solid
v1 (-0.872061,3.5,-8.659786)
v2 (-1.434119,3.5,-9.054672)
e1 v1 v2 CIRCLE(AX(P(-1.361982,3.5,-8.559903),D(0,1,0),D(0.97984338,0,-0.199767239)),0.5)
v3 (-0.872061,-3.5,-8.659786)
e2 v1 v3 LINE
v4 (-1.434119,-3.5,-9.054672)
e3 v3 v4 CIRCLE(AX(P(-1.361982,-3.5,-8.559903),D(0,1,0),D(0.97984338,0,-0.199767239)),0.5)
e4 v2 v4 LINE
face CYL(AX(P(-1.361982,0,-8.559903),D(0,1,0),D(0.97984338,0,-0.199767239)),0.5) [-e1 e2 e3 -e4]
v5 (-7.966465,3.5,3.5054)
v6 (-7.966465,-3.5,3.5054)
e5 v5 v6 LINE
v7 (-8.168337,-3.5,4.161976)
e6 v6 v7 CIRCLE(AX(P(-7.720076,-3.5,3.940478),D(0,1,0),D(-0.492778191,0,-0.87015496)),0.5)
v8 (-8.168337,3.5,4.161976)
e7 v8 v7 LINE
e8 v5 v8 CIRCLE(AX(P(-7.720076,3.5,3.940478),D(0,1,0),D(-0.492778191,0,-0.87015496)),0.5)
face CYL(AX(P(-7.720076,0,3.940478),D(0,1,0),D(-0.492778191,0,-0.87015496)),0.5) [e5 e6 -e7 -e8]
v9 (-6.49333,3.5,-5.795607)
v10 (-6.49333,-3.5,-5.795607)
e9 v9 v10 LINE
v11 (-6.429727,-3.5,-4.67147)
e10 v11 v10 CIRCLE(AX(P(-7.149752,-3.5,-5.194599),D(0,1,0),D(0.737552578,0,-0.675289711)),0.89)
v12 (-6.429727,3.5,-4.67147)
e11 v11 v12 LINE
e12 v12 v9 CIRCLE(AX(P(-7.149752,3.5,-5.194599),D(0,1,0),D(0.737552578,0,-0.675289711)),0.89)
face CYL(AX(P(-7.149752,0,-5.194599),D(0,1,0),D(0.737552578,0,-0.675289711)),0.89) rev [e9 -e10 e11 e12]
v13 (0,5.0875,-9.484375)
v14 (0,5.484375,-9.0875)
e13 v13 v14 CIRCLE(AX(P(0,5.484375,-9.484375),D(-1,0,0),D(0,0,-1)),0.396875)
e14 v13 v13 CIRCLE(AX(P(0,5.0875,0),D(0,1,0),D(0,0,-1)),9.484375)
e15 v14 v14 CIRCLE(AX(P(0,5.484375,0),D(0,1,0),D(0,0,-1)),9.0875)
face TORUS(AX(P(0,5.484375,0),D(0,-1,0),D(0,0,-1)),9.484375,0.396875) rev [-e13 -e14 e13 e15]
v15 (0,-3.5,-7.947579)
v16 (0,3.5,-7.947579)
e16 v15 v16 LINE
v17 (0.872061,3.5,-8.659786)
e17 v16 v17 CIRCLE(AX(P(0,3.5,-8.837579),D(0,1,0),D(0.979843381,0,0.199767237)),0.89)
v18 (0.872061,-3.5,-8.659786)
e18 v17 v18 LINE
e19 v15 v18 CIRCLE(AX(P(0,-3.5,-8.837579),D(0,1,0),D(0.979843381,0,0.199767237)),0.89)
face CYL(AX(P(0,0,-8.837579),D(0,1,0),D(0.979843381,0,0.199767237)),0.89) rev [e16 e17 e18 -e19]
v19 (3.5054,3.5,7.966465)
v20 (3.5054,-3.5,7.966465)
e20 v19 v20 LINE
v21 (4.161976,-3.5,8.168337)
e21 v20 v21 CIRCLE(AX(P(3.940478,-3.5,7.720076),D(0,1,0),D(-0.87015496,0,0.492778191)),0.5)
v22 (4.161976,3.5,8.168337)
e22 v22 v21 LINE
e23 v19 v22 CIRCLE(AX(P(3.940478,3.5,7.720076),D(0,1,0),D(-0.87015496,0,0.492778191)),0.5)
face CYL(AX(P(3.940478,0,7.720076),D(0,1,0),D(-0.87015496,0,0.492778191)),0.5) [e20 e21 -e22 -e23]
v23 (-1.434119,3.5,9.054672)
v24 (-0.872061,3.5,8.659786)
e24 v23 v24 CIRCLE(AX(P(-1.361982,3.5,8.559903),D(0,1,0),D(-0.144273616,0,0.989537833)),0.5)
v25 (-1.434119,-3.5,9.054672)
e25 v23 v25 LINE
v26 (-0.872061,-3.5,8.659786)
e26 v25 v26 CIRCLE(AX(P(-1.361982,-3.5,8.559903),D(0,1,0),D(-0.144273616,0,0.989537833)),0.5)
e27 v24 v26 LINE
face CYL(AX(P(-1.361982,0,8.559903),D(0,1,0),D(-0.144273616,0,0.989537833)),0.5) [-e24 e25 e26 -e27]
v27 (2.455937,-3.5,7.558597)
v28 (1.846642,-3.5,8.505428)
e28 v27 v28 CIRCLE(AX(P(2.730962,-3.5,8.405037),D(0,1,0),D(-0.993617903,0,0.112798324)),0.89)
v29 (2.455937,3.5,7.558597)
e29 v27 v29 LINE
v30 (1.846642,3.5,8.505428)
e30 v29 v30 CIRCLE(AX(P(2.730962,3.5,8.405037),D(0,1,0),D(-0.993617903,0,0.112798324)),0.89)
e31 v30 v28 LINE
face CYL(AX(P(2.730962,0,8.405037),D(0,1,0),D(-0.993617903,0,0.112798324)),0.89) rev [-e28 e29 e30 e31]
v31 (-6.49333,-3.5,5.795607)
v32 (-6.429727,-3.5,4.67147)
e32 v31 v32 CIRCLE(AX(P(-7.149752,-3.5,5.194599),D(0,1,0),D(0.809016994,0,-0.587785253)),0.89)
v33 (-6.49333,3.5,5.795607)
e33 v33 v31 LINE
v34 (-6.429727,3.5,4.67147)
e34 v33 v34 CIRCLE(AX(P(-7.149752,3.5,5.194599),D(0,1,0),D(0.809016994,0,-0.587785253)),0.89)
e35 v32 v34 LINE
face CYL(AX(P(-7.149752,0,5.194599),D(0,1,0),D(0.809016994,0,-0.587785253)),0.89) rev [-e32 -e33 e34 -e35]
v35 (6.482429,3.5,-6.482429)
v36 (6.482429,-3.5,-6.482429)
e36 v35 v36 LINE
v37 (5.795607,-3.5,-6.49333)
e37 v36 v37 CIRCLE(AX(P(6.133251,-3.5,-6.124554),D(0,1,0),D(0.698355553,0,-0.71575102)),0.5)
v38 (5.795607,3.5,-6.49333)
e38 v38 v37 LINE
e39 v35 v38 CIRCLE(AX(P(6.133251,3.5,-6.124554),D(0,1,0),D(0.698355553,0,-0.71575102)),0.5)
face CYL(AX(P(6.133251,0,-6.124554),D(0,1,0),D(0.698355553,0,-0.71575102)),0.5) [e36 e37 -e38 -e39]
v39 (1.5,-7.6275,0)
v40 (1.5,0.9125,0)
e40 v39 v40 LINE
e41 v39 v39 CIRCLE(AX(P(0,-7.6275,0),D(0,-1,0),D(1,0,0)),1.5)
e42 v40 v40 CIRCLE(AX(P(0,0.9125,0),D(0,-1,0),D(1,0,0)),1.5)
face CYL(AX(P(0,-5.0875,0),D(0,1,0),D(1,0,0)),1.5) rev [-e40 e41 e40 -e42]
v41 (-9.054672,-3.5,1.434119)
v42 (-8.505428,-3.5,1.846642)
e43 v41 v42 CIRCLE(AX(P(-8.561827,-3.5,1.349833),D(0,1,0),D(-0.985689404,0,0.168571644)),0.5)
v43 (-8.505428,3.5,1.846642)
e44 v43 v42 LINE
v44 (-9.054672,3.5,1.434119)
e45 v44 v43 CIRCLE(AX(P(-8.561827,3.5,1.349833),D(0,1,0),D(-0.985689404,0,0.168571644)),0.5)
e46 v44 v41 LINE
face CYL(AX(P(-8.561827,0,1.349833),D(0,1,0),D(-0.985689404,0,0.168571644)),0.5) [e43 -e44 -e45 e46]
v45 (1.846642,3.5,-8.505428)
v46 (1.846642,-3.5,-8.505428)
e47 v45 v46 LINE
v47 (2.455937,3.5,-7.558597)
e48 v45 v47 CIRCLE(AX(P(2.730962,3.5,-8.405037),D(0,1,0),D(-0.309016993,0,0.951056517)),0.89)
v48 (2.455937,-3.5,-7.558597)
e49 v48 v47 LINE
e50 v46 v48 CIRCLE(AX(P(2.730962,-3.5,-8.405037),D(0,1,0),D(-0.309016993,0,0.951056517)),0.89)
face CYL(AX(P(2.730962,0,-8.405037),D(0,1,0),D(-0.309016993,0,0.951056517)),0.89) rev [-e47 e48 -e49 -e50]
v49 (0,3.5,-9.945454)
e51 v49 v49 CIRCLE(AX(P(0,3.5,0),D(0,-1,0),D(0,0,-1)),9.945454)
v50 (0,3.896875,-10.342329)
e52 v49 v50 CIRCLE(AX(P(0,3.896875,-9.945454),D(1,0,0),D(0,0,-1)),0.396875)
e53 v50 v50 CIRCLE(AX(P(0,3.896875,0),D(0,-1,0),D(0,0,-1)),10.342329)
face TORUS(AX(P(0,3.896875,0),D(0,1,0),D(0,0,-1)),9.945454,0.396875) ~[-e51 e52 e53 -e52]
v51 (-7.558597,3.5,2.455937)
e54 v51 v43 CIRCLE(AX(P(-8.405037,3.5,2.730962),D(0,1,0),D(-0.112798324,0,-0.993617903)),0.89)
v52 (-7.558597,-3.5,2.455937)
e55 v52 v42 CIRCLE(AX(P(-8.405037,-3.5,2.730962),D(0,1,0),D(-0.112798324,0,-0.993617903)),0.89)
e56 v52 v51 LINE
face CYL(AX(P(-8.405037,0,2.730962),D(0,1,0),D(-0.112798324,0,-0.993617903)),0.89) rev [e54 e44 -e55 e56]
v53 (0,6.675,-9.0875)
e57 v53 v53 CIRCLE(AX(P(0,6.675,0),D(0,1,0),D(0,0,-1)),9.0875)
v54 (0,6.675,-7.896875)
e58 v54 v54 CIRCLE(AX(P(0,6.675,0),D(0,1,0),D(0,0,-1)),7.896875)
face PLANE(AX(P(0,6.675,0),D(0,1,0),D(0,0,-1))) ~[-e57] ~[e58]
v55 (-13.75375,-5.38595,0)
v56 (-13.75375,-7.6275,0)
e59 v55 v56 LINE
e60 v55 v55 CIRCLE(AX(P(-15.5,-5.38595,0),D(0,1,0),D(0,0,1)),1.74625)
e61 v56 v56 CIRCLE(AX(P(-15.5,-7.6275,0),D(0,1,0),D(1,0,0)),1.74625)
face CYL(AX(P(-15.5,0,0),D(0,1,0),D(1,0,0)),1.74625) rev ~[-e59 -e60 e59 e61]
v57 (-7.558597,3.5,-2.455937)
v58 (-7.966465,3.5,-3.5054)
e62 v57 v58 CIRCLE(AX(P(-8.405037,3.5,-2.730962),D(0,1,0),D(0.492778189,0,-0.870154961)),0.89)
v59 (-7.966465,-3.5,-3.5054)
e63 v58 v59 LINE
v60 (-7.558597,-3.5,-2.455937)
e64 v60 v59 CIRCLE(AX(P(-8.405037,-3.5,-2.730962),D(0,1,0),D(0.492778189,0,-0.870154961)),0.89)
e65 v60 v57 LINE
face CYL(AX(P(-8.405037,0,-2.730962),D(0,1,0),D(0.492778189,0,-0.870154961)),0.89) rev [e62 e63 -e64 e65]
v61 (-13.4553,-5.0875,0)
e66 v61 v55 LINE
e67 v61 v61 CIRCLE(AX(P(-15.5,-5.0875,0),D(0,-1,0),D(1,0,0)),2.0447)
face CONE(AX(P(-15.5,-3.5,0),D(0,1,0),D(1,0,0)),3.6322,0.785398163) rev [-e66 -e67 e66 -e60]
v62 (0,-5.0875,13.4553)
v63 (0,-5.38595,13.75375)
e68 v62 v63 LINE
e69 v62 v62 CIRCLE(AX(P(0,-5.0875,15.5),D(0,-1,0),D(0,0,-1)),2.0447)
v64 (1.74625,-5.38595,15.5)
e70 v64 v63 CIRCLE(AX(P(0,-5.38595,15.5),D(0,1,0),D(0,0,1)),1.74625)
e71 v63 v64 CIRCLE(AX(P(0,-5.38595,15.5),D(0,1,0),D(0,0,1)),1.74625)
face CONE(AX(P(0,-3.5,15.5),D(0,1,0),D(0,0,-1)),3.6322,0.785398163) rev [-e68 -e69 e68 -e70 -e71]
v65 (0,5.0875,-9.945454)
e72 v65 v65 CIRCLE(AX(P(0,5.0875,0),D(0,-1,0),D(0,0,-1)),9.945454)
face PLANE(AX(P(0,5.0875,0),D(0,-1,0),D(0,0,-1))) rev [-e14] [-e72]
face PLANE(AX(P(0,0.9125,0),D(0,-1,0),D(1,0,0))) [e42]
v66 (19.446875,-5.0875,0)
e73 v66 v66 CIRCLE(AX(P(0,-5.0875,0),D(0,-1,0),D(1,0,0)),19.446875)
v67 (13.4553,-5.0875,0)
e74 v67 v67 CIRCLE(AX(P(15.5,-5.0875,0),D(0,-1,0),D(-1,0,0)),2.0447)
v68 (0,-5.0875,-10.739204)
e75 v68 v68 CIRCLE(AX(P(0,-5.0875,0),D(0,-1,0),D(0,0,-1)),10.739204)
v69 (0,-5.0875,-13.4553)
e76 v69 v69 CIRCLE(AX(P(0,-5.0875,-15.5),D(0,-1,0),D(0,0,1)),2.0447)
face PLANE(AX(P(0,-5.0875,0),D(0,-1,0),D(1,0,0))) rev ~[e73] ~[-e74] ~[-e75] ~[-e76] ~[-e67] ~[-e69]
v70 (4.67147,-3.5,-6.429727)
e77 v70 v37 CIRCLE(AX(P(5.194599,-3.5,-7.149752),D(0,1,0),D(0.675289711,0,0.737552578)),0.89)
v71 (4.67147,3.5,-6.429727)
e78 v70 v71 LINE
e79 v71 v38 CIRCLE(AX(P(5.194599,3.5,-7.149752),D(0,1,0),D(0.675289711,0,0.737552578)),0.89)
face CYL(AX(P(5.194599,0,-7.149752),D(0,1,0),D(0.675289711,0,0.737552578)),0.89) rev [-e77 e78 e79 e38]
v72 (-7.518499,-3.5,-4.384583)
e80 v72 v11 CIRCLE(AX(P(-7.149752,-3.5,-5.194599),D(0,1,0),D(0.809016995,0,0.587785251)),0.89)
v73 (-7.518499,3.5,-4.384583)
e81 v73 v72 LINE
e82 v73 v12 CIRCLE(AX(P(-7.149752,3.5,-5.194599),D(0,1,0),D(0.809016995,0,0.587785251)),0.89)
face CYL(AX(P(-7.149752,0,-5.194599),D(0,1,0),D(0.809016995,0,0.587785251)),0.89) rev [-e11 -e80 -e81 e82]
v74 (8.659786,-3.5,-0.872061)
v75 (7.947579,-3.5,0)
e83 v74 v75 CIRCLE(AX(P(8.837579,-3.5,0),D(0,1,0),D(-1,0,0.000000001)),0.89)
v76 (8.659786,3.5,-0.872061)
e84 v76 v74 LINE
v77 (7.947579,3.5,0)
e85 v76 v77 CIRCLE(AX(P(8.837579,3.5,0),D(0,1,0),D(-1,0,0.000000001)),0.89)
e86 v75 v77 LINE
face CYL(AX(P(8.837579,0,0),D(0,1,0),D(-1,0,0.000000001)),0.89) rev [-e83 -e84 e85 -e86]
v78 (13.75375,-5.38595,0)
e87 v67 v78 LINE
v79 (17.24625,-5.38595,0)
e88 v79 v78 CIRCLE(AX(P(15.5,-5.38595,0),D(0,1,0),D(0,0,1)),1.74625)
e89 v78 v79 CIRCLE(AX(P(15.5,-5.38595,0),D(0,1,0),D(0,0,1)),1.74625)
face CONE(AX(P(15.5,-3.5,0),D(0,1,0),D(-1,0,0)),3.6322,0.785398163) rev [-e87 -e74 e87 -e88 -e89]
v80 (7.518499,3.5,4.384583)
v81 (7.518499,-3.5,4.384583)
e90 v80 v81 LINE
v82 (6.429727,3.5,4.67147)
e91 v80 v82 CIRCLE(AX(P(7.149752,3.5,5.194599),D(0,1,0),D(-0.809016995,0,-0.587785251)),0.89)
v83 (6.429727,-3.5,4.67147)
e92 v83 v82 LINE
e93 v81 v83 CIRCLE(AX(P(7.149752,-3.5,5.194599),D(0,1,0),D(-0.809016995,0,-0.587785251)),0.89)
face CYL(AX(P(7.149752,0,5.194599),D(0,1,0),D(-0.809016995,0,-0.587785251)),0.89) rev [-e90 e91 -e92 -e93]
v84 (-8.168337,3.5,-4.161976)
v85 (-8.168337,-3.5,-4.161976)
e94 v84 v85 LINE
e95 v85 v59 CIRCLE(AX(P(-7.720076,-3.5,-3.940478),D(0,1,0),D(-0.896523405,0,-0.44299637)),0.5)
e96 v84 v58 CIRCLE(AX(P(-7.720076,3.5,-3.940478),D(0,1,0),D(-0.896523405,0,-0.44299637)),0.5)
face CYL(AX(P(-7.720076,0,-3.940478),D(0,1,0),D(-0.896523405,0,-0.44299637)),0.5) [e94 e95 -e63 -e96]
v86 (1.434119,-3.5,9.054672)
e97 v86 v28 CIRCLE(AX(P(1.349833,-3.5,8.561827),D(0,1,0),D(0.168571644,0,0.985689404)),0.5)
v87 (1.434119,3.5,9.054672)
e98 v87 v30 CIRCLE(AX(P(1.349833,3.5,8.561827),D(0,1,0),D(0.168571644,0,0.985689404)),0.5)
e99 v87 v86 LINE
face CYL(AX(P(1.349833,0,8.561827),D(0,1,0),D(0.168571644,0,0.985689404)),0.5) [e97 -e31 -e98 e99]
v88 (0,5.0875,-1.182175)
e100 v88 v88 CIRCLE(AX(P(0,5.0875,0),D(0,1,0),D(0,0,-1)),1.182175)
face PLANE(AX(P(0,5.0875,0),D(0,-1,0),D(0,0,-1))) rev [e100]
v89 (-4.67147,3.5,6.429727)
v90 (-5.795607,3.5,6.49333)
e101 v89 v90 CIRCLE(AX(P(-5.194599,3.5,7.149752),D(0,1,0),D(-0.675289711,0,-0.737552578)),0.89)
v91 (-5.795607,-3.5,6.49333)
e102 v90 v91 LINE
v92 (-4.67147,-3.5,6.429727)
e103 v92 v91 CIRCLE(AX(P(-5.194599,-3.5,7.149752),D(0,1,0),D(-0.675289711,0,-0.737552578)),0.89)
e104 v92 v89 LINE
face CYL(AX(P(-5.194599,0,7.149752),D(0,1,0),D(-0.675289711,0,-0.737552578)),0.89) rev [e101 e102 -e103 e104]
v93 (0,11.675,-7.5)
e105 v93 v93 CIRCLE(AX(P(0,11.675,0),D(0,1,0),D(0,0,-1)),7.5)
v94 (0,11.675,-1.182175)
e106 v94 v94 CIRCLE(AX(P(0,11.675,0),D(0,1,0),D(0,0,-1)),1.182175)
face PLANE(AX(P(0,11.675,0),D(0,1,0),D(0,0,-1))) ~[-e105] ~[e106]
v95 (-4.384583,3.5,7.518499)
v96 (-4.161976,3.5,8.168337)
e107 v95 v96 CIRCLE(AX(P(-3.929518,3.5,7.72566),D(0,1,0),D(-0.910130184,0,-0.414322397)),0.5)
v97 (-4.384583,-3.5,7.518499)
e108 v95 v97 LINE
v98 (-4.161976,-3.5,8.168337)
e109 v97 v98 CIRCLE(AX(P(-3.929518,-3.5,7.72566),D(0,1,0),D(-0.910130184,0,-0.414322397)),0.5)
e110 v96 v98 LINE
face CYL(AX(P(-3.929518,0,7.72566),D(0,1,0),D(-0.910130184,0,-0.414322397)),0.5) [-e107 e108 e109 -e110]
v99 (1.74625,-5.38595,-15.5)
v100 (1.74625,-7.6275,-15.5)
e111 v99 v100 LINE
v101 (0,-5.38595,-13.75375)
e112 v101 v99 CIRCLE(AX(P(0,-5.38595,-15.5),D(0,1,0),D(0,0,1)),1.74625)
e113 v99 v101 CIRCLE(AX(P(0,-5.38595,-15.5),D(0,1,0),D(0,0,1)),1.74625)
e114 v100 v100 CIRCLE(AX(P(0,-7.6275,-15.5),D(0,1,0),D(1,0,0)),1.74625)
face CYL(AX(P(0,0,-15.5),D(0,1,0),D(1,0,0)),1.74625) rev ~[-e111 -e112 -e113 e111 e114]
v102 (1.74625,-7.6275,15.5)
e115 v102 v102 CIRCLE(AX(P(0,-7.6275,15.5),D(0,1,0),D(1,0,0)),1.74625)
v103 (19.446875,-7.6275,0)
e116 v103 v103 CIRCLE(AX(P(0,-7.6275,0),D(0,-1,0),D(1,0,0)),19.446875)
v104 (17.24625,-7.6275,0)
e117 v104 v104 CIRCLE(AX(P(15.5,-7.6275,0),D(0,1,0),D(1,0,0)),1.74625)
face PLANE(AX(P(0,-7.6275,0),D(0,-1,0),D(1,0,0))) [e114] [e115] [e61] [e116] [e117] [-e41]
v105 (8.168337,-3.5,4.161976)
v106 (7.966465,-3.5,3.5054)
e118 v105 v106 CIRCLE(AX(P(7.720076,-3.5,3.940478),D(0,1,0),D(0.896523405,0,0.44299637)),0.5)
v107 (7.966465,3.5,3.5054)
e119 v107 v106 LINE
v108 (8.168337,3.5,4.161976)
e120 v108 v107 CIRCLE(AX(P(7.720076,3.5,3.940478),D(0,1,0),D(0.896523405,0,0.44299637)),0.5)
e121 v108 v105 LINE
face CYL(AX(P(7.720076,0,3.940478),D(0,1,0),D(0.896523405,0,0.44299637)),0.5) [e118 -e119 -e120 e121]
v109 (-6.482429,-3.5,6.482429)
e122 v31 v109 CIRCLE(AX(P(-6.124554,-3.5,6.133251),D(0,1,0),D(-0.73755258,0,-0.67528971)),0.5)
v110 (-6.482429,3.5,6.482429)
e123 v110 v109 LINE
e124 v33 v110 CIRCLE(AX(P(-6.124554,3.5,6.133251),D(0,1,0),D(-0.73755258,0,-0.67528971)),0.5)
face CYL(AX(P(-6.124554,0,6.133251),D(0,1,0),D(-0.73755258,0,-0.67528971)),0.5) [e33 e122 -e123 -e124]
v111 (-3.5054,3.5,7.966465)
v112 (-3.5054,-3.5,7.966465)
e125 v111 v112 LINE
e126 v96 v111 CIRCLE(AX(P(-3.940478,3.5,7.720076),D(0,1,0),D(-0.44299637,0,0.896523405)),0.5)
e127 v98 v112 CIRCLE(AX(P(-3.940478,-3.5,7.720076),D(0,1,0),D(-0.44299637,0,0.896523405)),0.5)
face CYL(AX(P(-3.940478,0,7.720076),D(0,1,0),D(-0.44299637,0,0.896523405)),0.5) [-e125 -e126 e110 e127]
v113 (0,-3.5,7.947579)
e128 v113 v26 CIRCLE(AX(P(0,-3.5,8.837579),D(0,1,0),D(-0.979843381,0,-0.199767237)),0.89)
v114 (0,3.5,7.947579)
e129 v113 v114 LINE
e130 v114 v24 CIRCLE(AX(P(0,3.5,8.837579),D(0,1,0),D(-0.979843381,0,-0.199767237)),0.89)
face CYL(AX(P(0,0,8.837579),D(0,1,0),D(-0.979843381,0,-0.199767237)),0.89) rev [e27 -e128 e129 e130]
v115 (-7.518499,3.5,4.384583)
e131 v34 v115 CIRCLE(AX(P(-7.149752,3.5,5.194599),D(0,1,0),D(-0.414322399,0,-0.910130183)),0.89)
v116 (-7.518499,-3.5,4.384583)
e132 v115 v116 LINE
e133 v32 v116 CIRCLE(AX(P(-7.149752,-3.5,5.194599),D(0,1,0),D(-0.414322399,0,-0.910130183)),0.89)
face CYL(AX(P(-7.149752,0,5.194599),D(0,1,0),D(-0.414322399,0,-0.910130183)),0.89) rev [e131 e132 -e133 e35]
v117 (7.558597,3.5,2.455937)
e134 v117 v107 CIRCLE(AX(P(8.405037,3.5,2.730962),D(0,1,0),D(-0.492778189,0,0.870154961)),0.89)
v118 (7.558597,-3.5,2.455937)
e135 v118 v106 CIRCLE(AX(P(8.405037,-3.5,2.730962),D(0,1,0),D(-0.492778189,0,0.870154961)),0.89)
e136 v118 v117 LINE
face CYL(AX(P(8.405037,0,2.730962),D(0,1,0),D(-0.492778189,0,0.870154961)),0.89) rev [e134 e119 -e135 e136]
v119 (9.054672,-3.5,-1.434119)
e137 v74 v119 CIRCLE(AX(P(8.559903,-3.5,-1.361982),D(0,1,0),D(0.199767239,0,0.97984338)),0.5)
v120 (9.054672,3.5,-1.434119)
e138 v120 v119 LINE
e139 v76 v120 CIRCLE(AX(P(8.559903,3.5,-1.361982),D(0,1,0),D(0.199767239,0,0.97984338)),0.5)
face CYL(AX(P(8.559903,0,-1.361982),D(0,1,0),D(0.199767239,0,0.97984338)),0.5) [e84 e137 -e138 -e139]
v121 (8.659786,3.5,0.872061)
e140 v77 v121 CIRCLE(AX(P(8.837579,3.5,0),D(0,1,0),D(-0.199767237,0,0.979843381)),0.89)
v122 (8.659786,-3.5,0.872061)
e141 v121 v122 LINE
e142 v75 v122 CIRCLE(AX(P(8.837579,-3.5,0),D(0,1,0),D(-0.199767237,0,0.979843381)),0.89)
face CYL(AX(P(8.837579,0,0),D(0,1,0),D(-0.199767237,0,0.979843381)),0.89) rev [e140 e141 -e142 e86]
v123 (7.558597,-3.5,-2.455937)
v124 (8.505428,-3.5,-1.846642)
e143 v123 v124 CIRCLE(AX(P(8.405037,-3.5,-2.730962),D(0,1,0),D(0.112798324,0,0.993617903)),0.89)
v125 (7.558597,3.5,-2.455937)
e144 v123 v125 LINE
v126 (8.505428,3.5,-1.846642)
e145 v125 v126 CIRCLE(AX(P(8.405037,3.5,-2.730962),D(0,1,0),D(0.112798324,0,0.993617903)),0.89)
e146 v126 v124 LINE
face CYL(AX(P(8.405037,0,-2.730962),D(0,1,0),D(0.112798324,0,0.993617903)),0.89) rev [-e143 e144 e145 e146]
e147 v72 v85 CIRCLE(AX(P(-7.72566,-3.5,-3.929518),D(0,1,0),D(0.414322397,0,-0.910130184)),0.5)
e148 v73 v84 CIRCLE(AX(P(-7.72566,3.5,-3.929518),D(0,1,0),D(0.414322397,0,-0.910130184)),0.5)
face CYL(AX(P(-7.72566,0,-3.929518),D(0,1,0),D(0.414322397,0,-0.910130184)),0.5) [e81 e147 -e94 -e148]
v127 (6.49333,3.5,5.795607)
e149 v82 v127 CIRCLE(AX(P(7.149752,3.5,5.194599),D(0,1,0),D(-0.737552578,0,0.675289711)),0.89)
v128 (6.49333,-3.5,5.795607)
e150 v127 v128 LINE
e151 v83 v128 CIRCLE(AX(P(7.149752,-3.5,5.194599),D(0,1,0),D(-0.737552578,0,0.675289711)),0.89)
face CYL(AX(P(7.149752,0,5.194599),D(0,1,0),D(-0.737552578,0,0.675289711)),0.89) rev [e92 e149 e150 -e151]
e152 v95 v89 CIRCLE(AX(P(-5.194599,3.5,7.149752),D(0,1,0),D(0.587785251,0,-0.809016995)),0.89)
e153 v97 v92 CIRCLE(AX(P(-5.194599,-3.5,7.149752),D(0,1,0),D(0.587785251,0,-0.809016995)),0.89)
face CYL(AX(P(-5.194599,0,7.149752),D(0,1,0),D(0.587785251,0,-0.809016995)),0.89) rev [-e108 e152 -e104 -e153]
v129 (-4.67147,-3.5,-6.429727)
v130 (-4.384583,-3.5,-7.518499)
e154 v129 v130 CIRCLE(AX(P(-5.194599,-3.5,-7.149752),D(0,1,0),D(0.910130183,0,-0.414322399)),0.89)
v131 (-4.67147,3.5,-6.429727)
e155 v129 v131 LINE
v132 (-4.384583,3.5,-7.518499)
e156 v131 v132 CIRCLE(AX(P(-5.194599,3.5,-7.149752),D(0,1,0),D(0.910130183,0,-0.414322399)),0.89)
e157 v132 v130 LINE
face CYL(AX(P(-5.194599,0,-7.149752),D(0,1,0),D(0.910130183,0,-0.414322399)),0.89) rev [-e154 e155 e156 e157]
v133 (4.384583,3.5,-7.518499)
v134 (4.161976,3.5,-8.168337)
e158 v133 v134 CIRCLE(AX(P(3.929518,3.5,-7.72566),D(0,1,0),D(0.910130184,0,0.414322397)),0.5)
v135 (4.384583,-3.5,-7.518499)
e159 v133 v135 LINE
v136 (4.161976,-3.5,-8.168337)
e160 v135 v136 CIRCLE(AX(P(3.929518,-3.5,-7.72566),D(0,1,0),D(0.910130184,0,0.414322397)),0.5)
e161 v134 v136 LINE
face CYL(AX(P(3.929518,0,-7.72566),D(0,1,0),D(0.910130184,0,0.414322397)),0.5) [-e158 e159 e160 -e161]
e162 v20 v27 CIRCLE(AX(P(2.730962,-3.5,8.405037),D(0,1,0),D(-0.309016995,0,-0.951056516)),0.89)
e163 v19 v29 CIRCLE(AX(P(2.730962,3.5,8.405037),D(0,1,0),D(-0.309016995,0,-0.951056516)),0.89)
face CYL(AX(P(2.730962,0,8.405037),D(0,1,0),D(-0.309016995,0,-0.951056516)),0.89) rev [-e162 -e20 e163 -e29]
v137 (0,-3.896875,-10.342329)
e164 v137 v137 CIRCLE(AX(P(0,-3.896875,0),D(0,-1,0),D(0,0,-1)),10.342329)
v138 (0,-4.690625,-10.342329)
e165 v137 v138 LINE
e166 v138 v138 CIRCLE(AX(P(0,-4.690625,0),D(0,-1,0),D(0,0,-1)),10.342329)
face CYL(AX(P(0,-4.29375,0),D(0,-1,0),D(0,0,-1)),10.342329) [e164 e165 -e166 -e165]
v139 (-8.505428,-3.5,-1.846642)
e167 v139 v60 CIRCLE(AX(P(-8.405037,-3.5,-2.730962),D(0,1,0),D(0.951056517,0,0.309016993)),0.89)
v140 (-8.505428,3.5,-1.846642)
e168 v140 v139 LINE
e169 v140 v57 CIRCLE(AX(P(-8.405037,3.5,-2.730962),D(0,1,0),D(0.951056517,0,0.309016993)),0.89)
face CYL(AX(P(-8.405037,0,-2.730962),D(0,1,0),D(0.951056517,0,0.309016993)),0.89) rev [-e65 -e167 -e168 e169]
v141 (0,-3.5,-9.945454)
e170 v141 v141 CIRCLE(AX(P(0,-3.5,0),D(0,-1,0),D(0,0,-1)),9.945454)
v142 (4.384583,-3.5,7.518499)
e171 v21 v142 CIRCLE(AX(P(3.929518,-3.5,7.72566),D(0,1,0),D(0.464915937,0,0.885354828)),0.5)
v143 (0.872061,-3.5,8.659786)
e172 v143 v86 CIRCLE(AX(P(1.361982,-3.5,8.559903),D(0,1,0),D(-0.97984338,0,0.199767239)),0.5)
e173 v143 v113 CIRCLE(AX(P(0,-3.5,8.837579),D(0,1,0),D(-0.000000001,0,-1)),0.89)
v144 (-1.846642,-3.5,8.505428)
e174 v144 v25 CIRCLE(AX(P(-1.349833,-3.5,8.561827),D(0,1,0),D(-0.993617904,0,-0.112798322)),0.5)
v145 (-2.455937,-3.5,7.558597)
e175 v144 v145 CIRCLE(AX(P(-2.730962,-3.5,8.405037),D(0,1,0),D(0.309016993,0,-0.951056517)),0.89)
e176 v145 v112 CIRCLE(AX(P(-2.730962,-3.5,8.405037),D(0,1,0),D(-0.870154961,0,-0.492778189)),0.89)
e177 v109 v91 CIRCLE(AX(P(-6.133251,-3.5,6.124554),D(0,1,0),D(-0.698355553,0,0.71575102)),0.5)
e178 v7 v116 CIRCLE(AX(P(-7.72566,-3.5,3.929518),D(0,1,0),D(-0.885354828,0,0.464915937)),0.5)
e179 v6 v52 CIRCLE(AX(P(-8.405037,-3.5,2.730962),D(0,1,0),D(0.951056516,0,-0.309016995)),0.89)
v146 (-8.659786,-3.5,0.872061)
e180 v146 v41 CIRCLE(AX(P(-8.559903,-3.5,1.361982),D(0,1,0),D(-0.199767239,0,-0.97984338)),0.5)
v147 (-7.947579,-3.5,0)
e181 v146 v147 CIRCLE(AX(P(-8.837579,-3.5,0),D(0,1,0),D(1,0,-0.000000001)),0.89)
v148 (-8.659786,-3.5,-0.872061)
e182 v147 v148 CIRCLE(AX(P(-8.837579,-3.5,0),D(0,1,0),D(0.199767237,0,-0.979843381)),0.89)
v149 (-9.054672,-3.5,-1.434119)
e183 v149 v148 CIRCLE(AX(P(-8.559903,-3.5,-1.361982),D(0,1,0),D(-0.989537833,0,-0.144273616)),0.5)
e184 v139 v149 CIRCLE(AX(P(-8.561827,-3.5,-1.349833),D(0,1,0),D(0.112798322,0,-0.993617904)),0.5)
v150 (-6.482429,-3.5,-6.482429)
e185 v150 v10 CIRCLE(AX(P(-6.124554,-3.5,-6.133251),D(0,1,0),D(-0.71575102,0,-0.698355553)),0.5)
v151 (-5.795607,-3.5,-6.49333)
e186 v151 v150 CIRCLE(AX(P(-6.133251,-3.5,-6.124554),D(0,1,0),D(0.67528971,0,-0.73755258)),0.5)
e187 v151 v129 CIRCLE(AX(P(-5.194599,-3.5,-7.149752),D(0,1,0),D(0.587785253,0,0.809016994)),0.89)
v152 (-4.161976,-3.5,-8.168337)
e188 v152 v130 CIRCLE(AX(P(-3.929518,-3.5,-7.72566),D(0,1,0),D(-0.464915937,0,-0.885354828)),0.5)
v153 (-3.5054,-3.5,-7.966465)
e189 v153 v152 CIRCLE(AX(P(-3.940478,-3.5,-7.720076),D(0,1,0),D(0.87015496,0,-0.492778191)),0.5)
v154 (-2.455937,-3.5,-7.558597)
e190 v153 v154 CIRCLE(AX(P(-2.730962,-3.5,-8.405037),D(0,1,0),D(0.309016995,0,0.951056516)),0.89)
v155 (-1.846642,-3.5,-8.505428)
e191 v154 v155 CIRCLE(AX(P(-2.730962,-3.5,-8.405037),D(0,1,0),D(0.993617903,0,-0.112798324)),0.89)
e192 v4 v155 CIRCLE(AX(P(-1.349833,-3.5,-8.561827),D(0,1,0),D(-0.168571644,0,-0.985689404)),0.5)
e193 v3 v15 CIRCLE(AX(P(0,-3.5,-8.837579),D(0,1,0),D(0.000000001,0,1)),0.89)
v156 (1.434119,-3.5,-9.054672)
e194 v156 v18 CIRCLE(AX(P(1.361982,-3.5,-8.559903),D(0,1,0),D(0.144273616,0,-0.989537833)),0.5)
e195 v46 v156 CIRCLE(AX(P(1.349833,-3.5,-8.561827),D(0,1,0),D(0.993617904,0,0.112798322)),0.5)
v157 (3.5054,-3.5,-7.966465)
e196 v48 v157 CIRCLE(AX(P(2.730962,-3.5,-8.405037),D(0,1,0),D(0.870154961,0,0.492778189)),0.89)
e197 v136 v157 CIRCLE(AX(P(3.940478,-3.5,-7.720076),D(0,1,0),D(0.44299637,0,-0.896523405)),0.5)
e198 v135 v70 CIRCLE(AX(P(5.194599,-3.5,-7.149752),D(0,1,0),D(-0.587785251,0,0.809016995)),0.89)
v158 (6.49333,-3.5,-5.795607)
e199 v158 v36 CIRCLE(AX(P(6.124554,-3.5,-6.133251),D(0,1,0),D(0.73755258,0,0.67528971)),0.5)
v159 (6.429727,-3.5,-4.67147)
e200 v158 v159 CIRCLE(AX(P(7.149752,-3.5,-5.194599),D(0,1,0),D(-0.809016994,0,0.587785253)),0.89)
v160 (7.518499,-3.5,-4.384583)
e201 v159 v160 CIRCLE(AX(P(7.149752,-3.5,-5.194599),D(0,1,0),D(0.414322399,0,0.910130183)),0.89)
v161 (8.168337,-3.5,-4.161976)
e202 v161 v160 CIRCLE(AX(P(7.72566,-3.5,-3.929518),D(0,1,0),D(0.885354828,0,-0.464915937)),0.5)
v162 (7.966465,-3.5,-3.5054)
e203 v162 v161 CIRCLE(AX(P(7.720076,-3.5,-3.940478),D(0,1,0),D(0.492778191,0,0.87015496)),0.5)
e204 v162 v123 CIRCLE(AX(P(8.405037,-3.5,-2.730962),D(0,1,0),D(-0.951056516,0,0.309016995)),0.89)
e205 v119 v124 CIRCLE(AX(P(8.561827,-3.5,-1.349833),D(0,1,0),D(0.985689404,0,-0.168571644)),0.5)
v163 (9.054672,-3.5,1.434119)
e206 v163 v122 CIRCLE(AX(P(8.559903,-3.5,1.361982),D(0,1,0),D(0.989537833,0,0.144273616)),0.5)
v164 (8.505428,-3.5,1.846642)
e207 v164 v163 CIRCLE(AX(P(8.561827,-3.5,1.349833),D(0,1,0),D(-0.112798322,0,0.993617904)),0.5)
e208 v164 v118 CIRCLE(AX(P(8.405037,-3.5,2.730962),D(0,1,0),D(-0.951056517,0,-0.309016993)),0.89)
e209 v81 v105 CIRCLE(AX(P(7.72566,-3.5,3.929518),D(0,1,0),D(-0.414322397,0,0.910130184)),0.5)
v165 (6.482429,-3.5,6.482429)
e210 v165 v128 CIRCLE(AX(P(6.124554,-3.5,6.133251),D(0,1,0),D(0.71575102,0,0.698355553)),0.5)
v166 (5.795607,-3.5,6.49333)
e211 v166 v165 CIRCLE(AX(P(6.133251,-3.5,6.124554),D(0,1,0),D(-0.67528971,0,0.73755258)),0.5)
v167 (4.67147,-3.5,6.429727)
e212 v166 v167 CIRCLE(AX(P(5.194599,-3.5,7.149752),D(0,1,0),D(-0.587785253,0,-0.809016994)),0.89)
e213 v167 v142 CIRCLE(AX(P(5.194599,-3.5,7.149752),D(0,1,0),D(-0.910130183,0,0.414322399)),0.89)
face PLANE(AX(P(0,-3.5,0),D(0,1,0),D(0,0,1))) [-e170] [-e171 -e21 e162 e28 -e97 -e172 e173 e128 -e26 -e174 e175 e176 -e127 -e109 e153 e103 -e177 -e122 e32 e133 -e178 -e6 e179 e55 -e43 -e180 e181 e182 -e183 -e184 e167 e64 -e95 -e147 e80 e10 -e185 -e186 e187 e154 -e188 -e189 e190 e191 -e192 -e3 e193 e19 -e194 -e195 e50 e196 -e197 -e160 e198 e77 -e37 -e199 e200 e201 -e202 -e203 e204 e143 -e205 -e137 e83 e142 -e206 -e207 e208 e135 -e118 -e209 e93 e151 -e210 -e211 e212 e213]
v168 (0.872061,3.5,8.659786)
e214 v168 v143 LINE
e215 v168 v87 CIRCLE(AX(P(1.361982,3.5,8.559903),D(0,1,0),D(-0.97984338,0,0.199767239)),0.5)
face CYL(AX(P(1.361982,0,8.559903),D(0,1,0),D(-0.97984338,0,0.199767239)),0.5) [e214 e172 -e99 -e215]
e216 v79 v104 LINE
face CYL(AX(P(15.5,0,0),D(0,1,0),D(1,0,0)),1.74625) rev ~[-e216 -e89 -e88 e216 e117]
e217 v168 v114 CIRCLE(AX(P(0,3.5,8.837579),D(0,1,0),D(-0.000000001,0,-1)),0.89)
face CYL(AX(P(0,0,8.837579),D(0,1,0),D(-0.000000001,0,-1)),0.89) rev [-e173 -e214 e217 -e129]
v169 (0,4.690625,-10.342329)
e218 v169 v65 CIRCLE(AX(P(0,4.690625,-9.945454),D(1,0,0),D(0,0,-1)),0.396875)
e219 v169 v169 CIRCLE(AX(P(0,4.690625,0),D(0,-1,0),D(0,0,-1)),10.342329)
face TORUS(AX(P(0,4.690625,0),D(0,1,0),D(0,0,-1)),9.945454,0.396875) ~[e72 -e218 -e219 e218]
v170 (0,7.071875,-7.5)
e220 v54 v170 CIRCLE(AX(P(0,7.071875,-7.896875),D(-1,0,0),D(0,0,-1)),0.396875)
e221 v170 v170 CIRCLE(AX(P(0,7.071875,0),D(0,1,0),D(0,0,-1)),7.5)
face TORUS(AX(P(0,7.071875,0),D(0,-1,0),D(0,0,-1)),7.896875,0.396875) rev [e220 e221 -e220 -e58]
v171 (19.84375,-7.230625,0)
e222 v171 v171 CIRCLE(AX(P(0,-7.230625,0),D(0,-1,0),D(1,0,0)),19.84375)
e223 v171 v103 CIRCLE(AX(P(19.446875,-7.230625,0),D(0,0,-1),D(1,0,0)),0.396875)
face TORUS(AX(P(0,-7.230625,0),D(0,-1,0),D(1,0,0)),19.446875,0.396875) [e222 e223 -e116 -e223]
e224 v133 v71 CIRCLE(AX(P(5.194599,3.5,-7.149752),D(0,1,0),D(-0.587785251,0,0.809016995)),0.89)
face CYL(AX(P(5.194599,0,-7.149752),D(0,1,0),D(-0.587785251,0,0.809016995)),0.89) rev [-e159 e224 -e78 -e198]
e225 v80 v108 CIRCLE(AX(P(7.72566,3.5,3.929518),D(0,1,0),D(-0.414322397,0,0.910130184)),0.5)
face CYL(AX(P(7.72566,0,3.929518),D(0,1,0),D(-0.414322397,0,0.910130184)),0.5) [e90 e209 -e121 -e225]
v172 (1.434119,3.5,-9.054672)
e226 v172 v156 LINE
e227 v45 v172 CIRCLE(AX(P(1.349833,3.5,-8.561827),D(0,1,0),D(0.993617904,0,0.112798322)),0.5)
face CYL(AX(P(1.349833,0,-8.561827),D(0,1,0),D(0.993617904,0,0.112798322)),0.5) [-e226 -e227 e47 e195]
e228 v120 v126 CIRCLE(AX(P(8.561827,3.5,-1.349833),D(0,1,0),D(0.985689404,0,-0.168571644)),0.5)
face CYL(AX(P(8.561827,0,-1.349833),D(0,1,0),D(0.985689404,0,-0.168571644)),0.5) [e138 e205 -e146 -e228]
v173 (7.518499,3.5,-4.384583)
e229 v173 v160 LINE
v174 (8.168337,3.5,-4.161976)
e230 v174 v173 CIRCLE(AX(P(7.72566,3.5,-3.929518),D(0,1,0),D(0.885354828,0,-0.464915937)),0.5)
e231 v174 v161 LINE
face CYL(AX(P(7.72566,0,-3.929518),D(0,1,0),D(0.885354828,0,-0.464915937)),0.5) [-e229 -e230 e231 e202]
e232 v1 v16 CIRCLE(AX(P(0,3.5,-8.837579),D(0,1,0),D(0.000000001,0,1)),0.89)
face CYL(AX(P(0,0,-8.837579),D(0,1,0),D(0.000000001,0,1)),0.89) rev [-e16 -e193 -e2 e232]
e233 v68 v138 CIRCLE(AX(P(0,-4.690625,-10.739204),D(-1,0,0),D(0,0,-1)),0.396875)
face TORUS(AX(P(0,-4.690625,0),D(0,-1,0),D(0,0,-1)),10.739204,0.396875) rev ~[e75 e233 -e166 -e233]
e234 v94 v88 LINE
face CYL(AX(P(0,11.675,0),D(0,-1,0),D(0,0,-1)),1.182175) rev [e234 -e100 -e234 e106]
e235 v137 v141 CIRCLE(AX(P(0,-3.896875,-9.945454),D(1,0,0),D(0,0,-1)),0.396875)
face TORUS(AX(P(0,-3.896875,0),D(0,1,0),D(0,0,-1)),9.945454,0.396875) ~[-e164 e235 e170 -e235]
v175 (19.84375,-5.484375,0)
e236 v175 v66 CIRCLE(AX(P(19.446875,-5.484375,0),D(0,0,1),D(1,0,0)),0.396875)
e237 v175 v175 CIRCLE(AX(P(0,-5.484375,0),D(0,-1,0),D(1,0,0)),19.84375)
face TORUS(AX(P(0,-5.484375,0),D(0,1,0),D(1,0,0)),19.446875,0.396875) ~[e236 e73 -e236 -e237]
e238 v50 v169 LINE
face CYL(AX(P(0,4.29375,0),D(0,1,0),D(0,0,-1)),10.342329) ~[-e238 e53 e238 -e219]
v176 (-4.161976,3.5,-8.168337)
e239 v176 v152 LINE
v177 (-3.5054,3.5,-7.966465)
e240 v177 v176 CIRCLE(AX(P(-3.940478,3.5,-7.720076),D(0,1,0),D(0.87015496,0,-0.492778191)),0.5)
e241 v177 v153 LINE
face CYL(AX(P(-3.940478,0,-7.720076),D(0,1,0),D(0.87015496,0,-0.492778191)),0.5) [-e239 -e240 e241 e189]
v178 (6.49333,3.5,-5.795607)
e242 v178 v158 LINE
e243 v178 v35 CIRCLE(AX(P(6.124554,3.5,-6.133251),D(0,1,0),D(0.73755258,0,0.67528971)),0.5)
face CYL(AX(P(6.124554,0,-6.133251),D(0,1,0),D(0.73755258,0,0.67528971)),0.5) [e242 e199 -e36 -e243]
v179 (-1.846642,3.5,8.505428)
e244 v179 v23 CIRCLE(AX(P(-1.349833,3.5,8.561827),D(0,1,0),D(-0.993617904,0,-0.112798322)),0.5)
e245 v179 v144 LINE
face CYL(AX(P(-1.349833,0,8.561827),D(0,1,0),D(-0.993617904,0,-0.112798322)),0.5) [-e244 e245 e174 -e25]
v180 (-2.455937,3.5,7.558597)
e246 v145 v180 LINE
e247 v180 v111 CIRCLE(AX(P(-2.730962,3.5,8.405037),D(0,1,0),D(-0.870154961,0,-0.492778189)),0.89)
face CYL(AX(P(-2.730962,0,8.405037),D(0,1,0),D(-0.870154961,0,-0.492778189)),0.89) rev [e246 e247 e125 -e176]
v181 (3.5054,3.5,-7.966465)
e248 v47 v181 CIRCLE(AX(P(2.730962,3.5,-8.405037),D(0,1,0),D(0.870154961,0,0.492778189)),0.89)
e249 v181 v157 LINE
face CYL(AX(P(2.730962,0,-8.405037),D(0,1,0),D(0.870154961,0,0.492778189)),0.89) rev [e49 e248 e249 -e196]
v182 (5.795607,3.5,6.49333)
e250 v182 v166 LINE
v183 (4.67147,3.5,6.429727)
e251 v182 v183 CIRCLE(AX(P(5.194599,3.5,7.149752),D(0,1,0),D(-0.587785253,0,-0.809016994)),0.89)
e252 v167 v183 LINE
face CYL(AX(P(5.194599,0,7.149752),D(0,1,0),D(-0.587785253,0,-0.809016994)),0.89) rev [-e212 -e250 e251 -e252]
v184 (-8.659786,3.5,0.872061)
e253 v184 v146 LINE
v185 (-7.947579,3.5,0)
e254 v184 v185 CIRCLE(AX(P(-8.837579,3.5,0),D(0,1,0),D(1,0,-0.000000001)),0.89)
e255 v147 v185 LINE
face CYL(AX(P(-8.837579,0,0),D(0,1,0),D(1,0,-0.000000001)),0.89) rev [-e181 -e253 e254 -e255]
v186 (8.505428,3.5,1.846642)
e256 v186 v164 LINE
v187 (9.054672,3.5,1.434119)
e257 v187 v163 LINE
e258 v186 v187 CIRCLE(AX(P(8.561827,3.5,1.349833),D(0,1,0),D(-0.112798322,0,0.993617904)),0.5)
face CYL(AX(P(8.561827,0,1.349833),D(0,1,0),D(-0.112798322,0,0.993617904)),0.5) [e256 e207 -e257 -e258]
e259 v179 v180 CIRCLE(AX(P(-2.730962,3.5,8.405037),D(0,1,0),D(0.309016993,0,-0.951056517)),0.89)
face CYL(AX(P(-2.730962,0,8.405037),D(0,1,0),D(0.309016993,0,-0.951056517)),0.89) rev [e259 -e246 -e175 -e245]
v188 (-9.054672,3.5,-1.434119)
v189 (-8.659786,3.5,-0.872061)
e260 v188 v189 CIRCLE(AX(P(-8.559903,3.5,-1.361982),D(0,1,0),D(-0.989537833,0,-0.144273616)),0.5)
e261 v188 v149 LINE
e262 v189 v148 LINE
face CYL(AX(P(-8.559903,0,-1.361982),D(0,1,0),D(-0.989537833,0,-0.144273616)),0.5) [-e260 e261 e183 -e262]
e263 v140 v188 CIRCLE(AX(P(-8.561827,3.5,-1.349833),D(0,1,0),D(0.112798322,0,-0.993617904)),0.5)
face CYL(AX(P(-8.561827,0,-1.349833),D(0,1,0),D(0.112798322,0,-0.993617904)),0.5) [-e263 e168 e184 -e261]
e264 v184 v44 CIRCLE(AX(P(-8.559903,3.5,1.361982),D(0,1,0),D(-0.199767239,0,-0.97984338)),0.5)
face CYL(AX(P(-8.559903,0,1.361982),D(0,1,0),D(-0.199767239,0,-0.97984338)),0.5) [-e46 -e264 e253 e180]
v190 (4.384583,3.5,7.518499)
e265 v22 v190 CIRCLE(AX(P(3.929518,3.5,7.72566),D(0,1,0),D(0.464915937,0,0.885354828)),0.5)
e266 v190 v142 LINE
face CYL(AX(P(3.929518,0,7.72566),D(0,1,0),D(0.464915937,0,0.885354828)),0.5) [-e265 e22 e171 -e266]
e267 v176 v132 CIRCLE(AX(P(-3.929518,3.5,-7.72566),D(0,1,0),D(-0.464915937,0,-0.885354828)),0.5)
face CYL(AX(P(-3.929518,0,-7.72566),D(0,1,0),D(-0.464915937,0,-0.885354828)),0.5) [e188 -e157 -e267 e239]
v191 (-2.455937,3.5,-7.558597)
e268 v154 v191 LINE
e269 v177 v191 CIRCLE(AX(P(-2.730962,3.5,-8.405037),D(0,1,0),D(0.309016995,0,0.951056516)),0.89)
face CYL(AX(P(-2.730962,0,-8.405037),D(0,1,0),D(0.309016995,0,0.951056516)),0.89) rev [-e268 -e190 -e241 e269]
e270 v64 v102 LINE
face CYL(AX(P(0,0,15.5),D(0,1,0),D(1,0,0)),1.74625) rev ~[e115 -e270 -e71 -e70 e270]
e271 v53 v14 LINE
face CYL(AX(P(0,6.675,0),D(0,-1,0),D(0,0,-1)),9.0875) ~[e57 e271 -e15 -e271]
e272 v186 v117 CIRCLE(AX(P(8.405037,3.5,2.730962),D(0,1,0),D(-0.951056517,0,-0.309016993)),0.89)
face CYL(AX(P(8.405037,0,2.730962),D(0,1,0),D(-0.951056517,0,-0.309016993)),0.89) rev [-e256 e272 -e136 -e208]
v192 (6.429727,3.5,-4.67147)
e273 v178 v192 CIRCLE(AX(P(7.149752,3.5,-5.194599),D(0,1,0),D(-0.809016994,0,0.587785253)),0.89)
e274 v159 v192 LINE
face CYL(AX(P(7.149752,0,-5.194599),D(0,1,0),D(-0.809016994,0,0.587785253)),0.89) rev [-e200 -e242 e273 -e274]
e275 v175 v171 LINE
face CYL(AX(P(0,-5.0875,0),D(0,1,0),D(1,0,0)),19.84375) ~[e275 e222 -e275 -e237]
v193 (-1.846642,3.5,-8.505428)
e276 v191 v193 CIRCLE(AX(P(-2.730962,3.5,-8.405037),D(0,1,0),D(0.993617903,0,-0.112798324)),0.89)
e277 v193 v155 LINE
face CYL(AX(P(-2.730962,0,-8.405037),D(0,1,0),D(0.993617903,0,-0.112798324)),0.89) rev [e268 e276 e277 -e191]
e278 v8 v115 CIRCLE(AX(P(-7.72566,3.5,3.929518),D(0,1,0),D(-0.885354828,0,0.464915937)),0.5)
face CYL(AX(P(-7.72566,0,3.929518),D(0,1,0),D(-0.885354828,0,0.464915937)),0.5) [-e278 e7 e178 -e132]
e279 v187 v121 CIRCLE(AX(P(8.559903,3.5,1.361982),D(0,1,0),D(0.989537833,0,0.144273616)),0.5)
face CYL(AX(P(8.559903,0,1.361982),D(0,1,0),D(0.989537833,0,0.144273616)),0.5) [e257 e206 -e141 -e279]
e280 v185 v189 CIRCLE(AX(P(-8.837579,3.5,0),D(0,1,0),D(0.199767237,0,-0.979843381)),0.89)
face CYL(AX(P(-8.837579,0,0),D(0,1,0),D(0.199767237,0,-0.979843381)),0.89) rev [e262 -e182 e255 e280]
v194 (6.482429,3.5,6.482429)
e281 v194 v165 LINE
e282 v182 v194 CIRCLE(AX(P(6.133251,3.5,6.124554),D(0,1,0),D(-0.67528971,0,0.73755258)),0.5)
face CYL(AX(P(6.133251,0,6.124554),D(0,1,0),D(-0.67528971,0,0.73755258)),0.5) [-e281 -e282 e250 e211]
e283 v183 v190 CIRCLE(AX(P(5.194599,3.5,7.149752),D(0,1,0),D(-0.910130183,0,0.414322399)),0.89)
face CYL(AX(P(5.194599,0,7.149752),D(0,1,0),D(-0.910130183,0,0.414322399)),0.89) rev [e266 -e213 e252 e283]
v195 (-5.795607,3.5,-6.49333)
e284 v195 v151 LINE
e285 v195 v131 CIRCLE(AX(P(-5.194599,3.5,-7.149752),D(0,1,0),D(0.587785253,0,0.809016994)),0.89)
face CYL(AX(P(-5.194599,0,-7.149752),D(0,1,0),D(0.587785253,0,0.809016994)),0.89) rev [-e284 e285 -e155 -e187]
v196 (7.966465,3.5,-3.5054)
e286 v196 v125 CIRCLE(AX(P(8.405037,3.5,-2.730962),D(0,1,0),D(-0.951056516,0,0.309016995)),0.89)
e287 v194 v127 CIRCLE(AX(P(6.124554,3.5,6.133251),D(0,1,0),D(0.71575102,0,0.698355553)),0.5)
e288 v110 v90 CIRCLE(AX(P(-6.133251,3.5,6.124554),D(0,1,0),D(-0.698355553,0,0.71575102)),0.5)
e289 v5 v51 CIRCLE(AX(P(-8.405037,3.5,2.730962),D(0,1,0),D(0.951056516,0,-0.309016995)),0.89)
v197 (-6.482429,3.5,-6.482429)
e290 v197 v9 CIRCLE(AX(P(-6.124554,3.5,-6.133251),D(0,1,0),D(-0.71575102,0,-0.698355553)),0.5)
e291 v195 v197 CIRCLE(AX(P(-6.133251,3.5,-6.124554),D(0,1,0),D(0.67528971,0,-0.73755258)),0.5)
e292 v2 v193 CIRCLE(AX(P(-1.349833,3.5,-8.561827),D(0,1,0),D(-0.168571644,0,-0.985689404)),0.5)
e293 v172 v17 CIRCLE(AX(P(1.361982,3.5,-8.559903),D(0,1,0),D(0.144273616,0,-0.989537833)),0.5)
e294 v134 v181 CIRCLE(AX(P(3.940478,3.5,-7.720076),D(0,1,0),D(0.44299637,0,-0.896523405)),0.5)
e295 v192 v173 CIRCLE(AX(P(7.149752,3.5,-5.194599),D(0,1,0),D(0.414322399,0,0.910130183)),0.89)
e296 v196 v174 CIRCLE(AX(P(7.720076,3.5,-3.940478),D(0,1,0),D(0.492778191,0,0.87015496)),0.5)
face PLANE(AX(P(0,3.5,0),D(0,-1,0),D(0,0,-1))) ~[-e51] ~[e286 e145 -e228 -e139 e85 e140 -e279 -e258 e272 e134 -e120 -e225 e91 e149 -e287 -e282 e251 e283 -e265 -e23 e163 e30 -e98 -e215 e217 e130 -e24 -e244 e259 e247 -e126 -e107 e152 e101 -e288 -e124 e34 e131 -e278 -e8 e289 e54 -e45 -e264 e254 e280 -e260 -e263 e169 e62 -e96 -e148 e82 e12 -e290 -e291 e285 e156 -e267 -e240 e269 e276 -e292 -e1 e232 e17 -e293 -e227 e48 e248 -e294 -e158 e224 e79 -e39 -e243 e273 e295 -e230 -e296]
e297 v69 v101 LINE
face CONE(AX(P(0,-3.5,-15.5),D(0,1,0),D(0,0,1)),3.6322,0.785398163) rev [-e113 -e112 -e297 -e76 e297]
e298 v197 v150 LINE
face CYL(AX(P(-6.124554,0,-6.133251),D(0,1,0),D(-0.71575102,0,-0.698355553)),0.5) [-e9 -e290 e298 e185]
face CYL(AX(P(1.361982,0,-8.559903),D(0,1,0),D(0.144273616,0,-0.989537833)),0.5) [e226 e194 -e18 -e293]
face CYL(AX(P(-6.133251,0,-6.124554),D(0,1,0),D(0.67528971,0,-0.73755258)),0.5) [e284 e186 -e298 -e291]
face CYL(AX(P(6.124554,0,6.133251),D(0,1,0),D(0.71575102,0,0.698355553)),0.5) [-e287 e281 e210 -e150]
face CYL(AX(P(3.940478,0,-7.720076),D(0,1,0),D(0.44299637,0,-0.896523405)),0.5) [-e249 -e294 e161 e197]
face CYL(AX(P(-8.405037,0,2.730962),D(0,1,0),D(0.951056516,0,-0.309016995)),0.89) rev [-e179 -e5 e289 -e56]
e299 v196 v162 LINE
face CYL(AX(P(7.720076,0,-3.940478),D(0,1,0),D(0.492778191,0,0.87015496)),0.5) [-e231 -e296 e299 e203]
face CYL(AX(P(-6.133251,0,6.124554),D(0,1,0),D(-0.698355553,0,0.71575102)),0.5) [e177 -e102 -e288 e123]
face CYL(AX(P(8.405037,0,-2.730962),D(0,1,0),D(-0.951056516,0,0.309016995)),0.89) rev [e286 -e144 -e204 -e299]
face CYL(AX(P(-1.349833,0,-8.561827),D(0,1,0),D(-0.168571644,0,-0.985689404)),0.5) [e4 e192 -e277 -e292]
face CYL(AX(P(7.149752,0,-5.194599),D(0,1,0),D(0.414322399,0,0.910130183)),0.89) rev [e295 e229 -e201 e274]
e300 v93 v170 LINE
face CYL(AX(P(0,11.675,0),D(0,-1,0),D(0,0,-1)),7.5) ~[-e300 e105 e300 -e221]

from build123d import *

# Parameters (mm, degrees)
BOSS_EXTRUDE1_DEPTH     = 3.556
CIRPATTERN1_COUNT       = 20
SKETCH2_W               = 10.342329408
SKETCH2_H               = 1.5875
SKETCH9_R               = 19.84375
SKETCH9_R_2             = 1.5
BOSS_EXTRUDE2_DEPTH     = 2.54
SKETCH3_R               = 1.74625
CUT_EXTRUDE1_DEPTH      = 6.087499985
CUT_EXTRUDE1_DEPTH_BACK = 8.627499985
CIRPATTERN2_COUNT       = 4
SKETCH11_R              = 1.5
CUT_EXTRUDE2_DEPTH      = 6
FILLET1_R               = 0.396875


with BuildPart() as part:
    # Sketch1 → Boss-Extrude1 (new body, symmetric)
    with BuildSketch(Plane(origin=(0, 0, 0), x_dir=(1, 0, 0), z_dir=(0, 1, 0))):
        with BuildLine():
            ThreePointArc((0.872060607, 8.659786465), (0.562967303, 8.148255135), (0, 7.947579308))
            ThreePointArc((0, 7.947579308), (-1.243275317, -7.849731418), (2.45593707, 7.55859709))
            ThreePointArc((2.45593707, 7.55859709), (1.982535589, 7.923417607), (1.846642263, 8.505427895))
            ThreePointArc((1.846642263, 8.505427895), (1.749626992, 8.862101959), (1.434119122, 9.054671776))
            ThreePointArc((1.434119122, 9.054671776), (1.074545959, 8.969024291), (0.872060607, 8.659786465))
        make_face()
    boss_extrude1 = extrude(amount=BOSS_EXTRUDE1_DEPTH, both=True)

    # CirPattern1: Boss-Extrude1 ×20 about axis
    cirpattern1_axis = Axis((0, 0, 0), (0, 1, 0))
    for i in range(1, CIRPATTERN1_COUNT):
        add(boss_extrude1.rotate(cirpattern1_axis, i * 360 / CIRPATTERN1_COUNT))

    # Sketch2 → Revolve3 (revolve)
    with BuildSketch(Plane(origin=(0, 0, 0), x_dir=(0, 0, -1), z_dir=(1, 0, 0))):
        with Locations((5.171164704, 4.293749985)):
            Rectangle(SKETCH2_W, SKETCH2_H)
    revolve3 = revolve(axis=Axis((0, 3.3, 0), (0, -1, 0)))

    # Mirror1: Revolve3 across plane
    add(revolve3.mirror(Plane.ZX))

    # Sketch9 → Boss-Extrude2 (add)
    with BuildSketch(Plane.XZ.offset(5.087499985)):
        Circle(SKETCH9_R)
        Circle(SKETCH9_R_2, mode=Mode.SUBTRACT)
    extrude(amount=BOSS_EXTRUDE2_DEPTH)

    # Sketch3 → Cut-Extrude1 (cut, two sides)
    with BuildSketch(Plane(origin=(0, 0, 0), x_dir=(1, 0, 0), z_dir=(0, 1, 0))) as cut_extrude1_sk:
        with Locations((-15.5, 0)):
            Circle(SKETCH3_R)
        with Locations((0, 15.5)):
            Circle(SKETCH3_R)
        with Locations((15.5, 0)):
            Circle(SKETCH3_R)
        with Locations((0, -15.5)):
            Circle(SKETCH3_R)
    extrude(amount=CUT_EXTRUDE1_DEPTH, mode=Mode.SUBTRACT)
    extrude(cut_extrude1_sk.sketch, amount=-CUT_EXTRUDE1_DEPTH_BACK, mode=Mode.SUBTRACT)

    # Sketch6 → Cut-Revolve2 (revolve, cut)
    with BuildSketch(Plane.XY):
        Polygon((-11.8678, -3.499999985), (-15.5, -7.132199985), (-15.5, -3.499999985), align=None)
    cut_revolve2 = revolve(axis=Axis((-15.5, -7.627499985, 0), (0, 1, 0)), mode=Mode.SUBTRACT)

    # CirPattern2: Cut-Revolve2 ×4 about axis
    cirpattern2_axis = Axis((0, 0, 0), (0, 1, 0))
    for i in range(1, CIRPATTERN2_COUNT):
        add(cut_revolve2.rotate(cirpattern2_axis, i * 360 / CIRPATTERN2_COUNT), mode=Mode.SUBTRACT)

    # Sketch11 → Cut-Extrude2 (cut)
    with BuildSketch(Plane.XZ.offset(5.087499985)):
        Circle(SKETCH11_R)
    extrude(amount=-CUT_EXTRUDE2_DEPTH, mode=Mode.SUBTRACT)

    # Sketch10 → Revolve4 (revolve)
    with BuildSketch(Plane(origin=(0, 0, 0), x_dir=(0, 0, -1), z_dir=(1, 0, 0))):
        Polygon((1.182175065, 6.674999985), (1.182175065, 11.674999985), (7.5, 11.674999985), (7.5, 6.674999985), (9.0875, 6.674999985), (9.0875, 5.087499985), (1.182175065, 5.087499985), align=None)
    revolve(axis=Axis((0, 0, 0), (0, 1, 0)))

    # Fillet1
    fillet1_edges = [part.edges().sort_by_distance(p)[0] for p in [
        (0, 5.087499985, 10.342329408),
        (0, 3.499999985, 10.342329408),
        (0, -3.499999985, 10.342329408),
        (0, -5.087499985, 10.342329408),
        (-19.84375, -7.627499985, 0),
        (-19.84375, -5.087499985, 0),
        (0, 5.087499985, 9.0875),
        (0, 6.674999985, 7.5),
    ]]
    fillet(fillet1_edges, radius=FILLET1_R)


solid = part.part
